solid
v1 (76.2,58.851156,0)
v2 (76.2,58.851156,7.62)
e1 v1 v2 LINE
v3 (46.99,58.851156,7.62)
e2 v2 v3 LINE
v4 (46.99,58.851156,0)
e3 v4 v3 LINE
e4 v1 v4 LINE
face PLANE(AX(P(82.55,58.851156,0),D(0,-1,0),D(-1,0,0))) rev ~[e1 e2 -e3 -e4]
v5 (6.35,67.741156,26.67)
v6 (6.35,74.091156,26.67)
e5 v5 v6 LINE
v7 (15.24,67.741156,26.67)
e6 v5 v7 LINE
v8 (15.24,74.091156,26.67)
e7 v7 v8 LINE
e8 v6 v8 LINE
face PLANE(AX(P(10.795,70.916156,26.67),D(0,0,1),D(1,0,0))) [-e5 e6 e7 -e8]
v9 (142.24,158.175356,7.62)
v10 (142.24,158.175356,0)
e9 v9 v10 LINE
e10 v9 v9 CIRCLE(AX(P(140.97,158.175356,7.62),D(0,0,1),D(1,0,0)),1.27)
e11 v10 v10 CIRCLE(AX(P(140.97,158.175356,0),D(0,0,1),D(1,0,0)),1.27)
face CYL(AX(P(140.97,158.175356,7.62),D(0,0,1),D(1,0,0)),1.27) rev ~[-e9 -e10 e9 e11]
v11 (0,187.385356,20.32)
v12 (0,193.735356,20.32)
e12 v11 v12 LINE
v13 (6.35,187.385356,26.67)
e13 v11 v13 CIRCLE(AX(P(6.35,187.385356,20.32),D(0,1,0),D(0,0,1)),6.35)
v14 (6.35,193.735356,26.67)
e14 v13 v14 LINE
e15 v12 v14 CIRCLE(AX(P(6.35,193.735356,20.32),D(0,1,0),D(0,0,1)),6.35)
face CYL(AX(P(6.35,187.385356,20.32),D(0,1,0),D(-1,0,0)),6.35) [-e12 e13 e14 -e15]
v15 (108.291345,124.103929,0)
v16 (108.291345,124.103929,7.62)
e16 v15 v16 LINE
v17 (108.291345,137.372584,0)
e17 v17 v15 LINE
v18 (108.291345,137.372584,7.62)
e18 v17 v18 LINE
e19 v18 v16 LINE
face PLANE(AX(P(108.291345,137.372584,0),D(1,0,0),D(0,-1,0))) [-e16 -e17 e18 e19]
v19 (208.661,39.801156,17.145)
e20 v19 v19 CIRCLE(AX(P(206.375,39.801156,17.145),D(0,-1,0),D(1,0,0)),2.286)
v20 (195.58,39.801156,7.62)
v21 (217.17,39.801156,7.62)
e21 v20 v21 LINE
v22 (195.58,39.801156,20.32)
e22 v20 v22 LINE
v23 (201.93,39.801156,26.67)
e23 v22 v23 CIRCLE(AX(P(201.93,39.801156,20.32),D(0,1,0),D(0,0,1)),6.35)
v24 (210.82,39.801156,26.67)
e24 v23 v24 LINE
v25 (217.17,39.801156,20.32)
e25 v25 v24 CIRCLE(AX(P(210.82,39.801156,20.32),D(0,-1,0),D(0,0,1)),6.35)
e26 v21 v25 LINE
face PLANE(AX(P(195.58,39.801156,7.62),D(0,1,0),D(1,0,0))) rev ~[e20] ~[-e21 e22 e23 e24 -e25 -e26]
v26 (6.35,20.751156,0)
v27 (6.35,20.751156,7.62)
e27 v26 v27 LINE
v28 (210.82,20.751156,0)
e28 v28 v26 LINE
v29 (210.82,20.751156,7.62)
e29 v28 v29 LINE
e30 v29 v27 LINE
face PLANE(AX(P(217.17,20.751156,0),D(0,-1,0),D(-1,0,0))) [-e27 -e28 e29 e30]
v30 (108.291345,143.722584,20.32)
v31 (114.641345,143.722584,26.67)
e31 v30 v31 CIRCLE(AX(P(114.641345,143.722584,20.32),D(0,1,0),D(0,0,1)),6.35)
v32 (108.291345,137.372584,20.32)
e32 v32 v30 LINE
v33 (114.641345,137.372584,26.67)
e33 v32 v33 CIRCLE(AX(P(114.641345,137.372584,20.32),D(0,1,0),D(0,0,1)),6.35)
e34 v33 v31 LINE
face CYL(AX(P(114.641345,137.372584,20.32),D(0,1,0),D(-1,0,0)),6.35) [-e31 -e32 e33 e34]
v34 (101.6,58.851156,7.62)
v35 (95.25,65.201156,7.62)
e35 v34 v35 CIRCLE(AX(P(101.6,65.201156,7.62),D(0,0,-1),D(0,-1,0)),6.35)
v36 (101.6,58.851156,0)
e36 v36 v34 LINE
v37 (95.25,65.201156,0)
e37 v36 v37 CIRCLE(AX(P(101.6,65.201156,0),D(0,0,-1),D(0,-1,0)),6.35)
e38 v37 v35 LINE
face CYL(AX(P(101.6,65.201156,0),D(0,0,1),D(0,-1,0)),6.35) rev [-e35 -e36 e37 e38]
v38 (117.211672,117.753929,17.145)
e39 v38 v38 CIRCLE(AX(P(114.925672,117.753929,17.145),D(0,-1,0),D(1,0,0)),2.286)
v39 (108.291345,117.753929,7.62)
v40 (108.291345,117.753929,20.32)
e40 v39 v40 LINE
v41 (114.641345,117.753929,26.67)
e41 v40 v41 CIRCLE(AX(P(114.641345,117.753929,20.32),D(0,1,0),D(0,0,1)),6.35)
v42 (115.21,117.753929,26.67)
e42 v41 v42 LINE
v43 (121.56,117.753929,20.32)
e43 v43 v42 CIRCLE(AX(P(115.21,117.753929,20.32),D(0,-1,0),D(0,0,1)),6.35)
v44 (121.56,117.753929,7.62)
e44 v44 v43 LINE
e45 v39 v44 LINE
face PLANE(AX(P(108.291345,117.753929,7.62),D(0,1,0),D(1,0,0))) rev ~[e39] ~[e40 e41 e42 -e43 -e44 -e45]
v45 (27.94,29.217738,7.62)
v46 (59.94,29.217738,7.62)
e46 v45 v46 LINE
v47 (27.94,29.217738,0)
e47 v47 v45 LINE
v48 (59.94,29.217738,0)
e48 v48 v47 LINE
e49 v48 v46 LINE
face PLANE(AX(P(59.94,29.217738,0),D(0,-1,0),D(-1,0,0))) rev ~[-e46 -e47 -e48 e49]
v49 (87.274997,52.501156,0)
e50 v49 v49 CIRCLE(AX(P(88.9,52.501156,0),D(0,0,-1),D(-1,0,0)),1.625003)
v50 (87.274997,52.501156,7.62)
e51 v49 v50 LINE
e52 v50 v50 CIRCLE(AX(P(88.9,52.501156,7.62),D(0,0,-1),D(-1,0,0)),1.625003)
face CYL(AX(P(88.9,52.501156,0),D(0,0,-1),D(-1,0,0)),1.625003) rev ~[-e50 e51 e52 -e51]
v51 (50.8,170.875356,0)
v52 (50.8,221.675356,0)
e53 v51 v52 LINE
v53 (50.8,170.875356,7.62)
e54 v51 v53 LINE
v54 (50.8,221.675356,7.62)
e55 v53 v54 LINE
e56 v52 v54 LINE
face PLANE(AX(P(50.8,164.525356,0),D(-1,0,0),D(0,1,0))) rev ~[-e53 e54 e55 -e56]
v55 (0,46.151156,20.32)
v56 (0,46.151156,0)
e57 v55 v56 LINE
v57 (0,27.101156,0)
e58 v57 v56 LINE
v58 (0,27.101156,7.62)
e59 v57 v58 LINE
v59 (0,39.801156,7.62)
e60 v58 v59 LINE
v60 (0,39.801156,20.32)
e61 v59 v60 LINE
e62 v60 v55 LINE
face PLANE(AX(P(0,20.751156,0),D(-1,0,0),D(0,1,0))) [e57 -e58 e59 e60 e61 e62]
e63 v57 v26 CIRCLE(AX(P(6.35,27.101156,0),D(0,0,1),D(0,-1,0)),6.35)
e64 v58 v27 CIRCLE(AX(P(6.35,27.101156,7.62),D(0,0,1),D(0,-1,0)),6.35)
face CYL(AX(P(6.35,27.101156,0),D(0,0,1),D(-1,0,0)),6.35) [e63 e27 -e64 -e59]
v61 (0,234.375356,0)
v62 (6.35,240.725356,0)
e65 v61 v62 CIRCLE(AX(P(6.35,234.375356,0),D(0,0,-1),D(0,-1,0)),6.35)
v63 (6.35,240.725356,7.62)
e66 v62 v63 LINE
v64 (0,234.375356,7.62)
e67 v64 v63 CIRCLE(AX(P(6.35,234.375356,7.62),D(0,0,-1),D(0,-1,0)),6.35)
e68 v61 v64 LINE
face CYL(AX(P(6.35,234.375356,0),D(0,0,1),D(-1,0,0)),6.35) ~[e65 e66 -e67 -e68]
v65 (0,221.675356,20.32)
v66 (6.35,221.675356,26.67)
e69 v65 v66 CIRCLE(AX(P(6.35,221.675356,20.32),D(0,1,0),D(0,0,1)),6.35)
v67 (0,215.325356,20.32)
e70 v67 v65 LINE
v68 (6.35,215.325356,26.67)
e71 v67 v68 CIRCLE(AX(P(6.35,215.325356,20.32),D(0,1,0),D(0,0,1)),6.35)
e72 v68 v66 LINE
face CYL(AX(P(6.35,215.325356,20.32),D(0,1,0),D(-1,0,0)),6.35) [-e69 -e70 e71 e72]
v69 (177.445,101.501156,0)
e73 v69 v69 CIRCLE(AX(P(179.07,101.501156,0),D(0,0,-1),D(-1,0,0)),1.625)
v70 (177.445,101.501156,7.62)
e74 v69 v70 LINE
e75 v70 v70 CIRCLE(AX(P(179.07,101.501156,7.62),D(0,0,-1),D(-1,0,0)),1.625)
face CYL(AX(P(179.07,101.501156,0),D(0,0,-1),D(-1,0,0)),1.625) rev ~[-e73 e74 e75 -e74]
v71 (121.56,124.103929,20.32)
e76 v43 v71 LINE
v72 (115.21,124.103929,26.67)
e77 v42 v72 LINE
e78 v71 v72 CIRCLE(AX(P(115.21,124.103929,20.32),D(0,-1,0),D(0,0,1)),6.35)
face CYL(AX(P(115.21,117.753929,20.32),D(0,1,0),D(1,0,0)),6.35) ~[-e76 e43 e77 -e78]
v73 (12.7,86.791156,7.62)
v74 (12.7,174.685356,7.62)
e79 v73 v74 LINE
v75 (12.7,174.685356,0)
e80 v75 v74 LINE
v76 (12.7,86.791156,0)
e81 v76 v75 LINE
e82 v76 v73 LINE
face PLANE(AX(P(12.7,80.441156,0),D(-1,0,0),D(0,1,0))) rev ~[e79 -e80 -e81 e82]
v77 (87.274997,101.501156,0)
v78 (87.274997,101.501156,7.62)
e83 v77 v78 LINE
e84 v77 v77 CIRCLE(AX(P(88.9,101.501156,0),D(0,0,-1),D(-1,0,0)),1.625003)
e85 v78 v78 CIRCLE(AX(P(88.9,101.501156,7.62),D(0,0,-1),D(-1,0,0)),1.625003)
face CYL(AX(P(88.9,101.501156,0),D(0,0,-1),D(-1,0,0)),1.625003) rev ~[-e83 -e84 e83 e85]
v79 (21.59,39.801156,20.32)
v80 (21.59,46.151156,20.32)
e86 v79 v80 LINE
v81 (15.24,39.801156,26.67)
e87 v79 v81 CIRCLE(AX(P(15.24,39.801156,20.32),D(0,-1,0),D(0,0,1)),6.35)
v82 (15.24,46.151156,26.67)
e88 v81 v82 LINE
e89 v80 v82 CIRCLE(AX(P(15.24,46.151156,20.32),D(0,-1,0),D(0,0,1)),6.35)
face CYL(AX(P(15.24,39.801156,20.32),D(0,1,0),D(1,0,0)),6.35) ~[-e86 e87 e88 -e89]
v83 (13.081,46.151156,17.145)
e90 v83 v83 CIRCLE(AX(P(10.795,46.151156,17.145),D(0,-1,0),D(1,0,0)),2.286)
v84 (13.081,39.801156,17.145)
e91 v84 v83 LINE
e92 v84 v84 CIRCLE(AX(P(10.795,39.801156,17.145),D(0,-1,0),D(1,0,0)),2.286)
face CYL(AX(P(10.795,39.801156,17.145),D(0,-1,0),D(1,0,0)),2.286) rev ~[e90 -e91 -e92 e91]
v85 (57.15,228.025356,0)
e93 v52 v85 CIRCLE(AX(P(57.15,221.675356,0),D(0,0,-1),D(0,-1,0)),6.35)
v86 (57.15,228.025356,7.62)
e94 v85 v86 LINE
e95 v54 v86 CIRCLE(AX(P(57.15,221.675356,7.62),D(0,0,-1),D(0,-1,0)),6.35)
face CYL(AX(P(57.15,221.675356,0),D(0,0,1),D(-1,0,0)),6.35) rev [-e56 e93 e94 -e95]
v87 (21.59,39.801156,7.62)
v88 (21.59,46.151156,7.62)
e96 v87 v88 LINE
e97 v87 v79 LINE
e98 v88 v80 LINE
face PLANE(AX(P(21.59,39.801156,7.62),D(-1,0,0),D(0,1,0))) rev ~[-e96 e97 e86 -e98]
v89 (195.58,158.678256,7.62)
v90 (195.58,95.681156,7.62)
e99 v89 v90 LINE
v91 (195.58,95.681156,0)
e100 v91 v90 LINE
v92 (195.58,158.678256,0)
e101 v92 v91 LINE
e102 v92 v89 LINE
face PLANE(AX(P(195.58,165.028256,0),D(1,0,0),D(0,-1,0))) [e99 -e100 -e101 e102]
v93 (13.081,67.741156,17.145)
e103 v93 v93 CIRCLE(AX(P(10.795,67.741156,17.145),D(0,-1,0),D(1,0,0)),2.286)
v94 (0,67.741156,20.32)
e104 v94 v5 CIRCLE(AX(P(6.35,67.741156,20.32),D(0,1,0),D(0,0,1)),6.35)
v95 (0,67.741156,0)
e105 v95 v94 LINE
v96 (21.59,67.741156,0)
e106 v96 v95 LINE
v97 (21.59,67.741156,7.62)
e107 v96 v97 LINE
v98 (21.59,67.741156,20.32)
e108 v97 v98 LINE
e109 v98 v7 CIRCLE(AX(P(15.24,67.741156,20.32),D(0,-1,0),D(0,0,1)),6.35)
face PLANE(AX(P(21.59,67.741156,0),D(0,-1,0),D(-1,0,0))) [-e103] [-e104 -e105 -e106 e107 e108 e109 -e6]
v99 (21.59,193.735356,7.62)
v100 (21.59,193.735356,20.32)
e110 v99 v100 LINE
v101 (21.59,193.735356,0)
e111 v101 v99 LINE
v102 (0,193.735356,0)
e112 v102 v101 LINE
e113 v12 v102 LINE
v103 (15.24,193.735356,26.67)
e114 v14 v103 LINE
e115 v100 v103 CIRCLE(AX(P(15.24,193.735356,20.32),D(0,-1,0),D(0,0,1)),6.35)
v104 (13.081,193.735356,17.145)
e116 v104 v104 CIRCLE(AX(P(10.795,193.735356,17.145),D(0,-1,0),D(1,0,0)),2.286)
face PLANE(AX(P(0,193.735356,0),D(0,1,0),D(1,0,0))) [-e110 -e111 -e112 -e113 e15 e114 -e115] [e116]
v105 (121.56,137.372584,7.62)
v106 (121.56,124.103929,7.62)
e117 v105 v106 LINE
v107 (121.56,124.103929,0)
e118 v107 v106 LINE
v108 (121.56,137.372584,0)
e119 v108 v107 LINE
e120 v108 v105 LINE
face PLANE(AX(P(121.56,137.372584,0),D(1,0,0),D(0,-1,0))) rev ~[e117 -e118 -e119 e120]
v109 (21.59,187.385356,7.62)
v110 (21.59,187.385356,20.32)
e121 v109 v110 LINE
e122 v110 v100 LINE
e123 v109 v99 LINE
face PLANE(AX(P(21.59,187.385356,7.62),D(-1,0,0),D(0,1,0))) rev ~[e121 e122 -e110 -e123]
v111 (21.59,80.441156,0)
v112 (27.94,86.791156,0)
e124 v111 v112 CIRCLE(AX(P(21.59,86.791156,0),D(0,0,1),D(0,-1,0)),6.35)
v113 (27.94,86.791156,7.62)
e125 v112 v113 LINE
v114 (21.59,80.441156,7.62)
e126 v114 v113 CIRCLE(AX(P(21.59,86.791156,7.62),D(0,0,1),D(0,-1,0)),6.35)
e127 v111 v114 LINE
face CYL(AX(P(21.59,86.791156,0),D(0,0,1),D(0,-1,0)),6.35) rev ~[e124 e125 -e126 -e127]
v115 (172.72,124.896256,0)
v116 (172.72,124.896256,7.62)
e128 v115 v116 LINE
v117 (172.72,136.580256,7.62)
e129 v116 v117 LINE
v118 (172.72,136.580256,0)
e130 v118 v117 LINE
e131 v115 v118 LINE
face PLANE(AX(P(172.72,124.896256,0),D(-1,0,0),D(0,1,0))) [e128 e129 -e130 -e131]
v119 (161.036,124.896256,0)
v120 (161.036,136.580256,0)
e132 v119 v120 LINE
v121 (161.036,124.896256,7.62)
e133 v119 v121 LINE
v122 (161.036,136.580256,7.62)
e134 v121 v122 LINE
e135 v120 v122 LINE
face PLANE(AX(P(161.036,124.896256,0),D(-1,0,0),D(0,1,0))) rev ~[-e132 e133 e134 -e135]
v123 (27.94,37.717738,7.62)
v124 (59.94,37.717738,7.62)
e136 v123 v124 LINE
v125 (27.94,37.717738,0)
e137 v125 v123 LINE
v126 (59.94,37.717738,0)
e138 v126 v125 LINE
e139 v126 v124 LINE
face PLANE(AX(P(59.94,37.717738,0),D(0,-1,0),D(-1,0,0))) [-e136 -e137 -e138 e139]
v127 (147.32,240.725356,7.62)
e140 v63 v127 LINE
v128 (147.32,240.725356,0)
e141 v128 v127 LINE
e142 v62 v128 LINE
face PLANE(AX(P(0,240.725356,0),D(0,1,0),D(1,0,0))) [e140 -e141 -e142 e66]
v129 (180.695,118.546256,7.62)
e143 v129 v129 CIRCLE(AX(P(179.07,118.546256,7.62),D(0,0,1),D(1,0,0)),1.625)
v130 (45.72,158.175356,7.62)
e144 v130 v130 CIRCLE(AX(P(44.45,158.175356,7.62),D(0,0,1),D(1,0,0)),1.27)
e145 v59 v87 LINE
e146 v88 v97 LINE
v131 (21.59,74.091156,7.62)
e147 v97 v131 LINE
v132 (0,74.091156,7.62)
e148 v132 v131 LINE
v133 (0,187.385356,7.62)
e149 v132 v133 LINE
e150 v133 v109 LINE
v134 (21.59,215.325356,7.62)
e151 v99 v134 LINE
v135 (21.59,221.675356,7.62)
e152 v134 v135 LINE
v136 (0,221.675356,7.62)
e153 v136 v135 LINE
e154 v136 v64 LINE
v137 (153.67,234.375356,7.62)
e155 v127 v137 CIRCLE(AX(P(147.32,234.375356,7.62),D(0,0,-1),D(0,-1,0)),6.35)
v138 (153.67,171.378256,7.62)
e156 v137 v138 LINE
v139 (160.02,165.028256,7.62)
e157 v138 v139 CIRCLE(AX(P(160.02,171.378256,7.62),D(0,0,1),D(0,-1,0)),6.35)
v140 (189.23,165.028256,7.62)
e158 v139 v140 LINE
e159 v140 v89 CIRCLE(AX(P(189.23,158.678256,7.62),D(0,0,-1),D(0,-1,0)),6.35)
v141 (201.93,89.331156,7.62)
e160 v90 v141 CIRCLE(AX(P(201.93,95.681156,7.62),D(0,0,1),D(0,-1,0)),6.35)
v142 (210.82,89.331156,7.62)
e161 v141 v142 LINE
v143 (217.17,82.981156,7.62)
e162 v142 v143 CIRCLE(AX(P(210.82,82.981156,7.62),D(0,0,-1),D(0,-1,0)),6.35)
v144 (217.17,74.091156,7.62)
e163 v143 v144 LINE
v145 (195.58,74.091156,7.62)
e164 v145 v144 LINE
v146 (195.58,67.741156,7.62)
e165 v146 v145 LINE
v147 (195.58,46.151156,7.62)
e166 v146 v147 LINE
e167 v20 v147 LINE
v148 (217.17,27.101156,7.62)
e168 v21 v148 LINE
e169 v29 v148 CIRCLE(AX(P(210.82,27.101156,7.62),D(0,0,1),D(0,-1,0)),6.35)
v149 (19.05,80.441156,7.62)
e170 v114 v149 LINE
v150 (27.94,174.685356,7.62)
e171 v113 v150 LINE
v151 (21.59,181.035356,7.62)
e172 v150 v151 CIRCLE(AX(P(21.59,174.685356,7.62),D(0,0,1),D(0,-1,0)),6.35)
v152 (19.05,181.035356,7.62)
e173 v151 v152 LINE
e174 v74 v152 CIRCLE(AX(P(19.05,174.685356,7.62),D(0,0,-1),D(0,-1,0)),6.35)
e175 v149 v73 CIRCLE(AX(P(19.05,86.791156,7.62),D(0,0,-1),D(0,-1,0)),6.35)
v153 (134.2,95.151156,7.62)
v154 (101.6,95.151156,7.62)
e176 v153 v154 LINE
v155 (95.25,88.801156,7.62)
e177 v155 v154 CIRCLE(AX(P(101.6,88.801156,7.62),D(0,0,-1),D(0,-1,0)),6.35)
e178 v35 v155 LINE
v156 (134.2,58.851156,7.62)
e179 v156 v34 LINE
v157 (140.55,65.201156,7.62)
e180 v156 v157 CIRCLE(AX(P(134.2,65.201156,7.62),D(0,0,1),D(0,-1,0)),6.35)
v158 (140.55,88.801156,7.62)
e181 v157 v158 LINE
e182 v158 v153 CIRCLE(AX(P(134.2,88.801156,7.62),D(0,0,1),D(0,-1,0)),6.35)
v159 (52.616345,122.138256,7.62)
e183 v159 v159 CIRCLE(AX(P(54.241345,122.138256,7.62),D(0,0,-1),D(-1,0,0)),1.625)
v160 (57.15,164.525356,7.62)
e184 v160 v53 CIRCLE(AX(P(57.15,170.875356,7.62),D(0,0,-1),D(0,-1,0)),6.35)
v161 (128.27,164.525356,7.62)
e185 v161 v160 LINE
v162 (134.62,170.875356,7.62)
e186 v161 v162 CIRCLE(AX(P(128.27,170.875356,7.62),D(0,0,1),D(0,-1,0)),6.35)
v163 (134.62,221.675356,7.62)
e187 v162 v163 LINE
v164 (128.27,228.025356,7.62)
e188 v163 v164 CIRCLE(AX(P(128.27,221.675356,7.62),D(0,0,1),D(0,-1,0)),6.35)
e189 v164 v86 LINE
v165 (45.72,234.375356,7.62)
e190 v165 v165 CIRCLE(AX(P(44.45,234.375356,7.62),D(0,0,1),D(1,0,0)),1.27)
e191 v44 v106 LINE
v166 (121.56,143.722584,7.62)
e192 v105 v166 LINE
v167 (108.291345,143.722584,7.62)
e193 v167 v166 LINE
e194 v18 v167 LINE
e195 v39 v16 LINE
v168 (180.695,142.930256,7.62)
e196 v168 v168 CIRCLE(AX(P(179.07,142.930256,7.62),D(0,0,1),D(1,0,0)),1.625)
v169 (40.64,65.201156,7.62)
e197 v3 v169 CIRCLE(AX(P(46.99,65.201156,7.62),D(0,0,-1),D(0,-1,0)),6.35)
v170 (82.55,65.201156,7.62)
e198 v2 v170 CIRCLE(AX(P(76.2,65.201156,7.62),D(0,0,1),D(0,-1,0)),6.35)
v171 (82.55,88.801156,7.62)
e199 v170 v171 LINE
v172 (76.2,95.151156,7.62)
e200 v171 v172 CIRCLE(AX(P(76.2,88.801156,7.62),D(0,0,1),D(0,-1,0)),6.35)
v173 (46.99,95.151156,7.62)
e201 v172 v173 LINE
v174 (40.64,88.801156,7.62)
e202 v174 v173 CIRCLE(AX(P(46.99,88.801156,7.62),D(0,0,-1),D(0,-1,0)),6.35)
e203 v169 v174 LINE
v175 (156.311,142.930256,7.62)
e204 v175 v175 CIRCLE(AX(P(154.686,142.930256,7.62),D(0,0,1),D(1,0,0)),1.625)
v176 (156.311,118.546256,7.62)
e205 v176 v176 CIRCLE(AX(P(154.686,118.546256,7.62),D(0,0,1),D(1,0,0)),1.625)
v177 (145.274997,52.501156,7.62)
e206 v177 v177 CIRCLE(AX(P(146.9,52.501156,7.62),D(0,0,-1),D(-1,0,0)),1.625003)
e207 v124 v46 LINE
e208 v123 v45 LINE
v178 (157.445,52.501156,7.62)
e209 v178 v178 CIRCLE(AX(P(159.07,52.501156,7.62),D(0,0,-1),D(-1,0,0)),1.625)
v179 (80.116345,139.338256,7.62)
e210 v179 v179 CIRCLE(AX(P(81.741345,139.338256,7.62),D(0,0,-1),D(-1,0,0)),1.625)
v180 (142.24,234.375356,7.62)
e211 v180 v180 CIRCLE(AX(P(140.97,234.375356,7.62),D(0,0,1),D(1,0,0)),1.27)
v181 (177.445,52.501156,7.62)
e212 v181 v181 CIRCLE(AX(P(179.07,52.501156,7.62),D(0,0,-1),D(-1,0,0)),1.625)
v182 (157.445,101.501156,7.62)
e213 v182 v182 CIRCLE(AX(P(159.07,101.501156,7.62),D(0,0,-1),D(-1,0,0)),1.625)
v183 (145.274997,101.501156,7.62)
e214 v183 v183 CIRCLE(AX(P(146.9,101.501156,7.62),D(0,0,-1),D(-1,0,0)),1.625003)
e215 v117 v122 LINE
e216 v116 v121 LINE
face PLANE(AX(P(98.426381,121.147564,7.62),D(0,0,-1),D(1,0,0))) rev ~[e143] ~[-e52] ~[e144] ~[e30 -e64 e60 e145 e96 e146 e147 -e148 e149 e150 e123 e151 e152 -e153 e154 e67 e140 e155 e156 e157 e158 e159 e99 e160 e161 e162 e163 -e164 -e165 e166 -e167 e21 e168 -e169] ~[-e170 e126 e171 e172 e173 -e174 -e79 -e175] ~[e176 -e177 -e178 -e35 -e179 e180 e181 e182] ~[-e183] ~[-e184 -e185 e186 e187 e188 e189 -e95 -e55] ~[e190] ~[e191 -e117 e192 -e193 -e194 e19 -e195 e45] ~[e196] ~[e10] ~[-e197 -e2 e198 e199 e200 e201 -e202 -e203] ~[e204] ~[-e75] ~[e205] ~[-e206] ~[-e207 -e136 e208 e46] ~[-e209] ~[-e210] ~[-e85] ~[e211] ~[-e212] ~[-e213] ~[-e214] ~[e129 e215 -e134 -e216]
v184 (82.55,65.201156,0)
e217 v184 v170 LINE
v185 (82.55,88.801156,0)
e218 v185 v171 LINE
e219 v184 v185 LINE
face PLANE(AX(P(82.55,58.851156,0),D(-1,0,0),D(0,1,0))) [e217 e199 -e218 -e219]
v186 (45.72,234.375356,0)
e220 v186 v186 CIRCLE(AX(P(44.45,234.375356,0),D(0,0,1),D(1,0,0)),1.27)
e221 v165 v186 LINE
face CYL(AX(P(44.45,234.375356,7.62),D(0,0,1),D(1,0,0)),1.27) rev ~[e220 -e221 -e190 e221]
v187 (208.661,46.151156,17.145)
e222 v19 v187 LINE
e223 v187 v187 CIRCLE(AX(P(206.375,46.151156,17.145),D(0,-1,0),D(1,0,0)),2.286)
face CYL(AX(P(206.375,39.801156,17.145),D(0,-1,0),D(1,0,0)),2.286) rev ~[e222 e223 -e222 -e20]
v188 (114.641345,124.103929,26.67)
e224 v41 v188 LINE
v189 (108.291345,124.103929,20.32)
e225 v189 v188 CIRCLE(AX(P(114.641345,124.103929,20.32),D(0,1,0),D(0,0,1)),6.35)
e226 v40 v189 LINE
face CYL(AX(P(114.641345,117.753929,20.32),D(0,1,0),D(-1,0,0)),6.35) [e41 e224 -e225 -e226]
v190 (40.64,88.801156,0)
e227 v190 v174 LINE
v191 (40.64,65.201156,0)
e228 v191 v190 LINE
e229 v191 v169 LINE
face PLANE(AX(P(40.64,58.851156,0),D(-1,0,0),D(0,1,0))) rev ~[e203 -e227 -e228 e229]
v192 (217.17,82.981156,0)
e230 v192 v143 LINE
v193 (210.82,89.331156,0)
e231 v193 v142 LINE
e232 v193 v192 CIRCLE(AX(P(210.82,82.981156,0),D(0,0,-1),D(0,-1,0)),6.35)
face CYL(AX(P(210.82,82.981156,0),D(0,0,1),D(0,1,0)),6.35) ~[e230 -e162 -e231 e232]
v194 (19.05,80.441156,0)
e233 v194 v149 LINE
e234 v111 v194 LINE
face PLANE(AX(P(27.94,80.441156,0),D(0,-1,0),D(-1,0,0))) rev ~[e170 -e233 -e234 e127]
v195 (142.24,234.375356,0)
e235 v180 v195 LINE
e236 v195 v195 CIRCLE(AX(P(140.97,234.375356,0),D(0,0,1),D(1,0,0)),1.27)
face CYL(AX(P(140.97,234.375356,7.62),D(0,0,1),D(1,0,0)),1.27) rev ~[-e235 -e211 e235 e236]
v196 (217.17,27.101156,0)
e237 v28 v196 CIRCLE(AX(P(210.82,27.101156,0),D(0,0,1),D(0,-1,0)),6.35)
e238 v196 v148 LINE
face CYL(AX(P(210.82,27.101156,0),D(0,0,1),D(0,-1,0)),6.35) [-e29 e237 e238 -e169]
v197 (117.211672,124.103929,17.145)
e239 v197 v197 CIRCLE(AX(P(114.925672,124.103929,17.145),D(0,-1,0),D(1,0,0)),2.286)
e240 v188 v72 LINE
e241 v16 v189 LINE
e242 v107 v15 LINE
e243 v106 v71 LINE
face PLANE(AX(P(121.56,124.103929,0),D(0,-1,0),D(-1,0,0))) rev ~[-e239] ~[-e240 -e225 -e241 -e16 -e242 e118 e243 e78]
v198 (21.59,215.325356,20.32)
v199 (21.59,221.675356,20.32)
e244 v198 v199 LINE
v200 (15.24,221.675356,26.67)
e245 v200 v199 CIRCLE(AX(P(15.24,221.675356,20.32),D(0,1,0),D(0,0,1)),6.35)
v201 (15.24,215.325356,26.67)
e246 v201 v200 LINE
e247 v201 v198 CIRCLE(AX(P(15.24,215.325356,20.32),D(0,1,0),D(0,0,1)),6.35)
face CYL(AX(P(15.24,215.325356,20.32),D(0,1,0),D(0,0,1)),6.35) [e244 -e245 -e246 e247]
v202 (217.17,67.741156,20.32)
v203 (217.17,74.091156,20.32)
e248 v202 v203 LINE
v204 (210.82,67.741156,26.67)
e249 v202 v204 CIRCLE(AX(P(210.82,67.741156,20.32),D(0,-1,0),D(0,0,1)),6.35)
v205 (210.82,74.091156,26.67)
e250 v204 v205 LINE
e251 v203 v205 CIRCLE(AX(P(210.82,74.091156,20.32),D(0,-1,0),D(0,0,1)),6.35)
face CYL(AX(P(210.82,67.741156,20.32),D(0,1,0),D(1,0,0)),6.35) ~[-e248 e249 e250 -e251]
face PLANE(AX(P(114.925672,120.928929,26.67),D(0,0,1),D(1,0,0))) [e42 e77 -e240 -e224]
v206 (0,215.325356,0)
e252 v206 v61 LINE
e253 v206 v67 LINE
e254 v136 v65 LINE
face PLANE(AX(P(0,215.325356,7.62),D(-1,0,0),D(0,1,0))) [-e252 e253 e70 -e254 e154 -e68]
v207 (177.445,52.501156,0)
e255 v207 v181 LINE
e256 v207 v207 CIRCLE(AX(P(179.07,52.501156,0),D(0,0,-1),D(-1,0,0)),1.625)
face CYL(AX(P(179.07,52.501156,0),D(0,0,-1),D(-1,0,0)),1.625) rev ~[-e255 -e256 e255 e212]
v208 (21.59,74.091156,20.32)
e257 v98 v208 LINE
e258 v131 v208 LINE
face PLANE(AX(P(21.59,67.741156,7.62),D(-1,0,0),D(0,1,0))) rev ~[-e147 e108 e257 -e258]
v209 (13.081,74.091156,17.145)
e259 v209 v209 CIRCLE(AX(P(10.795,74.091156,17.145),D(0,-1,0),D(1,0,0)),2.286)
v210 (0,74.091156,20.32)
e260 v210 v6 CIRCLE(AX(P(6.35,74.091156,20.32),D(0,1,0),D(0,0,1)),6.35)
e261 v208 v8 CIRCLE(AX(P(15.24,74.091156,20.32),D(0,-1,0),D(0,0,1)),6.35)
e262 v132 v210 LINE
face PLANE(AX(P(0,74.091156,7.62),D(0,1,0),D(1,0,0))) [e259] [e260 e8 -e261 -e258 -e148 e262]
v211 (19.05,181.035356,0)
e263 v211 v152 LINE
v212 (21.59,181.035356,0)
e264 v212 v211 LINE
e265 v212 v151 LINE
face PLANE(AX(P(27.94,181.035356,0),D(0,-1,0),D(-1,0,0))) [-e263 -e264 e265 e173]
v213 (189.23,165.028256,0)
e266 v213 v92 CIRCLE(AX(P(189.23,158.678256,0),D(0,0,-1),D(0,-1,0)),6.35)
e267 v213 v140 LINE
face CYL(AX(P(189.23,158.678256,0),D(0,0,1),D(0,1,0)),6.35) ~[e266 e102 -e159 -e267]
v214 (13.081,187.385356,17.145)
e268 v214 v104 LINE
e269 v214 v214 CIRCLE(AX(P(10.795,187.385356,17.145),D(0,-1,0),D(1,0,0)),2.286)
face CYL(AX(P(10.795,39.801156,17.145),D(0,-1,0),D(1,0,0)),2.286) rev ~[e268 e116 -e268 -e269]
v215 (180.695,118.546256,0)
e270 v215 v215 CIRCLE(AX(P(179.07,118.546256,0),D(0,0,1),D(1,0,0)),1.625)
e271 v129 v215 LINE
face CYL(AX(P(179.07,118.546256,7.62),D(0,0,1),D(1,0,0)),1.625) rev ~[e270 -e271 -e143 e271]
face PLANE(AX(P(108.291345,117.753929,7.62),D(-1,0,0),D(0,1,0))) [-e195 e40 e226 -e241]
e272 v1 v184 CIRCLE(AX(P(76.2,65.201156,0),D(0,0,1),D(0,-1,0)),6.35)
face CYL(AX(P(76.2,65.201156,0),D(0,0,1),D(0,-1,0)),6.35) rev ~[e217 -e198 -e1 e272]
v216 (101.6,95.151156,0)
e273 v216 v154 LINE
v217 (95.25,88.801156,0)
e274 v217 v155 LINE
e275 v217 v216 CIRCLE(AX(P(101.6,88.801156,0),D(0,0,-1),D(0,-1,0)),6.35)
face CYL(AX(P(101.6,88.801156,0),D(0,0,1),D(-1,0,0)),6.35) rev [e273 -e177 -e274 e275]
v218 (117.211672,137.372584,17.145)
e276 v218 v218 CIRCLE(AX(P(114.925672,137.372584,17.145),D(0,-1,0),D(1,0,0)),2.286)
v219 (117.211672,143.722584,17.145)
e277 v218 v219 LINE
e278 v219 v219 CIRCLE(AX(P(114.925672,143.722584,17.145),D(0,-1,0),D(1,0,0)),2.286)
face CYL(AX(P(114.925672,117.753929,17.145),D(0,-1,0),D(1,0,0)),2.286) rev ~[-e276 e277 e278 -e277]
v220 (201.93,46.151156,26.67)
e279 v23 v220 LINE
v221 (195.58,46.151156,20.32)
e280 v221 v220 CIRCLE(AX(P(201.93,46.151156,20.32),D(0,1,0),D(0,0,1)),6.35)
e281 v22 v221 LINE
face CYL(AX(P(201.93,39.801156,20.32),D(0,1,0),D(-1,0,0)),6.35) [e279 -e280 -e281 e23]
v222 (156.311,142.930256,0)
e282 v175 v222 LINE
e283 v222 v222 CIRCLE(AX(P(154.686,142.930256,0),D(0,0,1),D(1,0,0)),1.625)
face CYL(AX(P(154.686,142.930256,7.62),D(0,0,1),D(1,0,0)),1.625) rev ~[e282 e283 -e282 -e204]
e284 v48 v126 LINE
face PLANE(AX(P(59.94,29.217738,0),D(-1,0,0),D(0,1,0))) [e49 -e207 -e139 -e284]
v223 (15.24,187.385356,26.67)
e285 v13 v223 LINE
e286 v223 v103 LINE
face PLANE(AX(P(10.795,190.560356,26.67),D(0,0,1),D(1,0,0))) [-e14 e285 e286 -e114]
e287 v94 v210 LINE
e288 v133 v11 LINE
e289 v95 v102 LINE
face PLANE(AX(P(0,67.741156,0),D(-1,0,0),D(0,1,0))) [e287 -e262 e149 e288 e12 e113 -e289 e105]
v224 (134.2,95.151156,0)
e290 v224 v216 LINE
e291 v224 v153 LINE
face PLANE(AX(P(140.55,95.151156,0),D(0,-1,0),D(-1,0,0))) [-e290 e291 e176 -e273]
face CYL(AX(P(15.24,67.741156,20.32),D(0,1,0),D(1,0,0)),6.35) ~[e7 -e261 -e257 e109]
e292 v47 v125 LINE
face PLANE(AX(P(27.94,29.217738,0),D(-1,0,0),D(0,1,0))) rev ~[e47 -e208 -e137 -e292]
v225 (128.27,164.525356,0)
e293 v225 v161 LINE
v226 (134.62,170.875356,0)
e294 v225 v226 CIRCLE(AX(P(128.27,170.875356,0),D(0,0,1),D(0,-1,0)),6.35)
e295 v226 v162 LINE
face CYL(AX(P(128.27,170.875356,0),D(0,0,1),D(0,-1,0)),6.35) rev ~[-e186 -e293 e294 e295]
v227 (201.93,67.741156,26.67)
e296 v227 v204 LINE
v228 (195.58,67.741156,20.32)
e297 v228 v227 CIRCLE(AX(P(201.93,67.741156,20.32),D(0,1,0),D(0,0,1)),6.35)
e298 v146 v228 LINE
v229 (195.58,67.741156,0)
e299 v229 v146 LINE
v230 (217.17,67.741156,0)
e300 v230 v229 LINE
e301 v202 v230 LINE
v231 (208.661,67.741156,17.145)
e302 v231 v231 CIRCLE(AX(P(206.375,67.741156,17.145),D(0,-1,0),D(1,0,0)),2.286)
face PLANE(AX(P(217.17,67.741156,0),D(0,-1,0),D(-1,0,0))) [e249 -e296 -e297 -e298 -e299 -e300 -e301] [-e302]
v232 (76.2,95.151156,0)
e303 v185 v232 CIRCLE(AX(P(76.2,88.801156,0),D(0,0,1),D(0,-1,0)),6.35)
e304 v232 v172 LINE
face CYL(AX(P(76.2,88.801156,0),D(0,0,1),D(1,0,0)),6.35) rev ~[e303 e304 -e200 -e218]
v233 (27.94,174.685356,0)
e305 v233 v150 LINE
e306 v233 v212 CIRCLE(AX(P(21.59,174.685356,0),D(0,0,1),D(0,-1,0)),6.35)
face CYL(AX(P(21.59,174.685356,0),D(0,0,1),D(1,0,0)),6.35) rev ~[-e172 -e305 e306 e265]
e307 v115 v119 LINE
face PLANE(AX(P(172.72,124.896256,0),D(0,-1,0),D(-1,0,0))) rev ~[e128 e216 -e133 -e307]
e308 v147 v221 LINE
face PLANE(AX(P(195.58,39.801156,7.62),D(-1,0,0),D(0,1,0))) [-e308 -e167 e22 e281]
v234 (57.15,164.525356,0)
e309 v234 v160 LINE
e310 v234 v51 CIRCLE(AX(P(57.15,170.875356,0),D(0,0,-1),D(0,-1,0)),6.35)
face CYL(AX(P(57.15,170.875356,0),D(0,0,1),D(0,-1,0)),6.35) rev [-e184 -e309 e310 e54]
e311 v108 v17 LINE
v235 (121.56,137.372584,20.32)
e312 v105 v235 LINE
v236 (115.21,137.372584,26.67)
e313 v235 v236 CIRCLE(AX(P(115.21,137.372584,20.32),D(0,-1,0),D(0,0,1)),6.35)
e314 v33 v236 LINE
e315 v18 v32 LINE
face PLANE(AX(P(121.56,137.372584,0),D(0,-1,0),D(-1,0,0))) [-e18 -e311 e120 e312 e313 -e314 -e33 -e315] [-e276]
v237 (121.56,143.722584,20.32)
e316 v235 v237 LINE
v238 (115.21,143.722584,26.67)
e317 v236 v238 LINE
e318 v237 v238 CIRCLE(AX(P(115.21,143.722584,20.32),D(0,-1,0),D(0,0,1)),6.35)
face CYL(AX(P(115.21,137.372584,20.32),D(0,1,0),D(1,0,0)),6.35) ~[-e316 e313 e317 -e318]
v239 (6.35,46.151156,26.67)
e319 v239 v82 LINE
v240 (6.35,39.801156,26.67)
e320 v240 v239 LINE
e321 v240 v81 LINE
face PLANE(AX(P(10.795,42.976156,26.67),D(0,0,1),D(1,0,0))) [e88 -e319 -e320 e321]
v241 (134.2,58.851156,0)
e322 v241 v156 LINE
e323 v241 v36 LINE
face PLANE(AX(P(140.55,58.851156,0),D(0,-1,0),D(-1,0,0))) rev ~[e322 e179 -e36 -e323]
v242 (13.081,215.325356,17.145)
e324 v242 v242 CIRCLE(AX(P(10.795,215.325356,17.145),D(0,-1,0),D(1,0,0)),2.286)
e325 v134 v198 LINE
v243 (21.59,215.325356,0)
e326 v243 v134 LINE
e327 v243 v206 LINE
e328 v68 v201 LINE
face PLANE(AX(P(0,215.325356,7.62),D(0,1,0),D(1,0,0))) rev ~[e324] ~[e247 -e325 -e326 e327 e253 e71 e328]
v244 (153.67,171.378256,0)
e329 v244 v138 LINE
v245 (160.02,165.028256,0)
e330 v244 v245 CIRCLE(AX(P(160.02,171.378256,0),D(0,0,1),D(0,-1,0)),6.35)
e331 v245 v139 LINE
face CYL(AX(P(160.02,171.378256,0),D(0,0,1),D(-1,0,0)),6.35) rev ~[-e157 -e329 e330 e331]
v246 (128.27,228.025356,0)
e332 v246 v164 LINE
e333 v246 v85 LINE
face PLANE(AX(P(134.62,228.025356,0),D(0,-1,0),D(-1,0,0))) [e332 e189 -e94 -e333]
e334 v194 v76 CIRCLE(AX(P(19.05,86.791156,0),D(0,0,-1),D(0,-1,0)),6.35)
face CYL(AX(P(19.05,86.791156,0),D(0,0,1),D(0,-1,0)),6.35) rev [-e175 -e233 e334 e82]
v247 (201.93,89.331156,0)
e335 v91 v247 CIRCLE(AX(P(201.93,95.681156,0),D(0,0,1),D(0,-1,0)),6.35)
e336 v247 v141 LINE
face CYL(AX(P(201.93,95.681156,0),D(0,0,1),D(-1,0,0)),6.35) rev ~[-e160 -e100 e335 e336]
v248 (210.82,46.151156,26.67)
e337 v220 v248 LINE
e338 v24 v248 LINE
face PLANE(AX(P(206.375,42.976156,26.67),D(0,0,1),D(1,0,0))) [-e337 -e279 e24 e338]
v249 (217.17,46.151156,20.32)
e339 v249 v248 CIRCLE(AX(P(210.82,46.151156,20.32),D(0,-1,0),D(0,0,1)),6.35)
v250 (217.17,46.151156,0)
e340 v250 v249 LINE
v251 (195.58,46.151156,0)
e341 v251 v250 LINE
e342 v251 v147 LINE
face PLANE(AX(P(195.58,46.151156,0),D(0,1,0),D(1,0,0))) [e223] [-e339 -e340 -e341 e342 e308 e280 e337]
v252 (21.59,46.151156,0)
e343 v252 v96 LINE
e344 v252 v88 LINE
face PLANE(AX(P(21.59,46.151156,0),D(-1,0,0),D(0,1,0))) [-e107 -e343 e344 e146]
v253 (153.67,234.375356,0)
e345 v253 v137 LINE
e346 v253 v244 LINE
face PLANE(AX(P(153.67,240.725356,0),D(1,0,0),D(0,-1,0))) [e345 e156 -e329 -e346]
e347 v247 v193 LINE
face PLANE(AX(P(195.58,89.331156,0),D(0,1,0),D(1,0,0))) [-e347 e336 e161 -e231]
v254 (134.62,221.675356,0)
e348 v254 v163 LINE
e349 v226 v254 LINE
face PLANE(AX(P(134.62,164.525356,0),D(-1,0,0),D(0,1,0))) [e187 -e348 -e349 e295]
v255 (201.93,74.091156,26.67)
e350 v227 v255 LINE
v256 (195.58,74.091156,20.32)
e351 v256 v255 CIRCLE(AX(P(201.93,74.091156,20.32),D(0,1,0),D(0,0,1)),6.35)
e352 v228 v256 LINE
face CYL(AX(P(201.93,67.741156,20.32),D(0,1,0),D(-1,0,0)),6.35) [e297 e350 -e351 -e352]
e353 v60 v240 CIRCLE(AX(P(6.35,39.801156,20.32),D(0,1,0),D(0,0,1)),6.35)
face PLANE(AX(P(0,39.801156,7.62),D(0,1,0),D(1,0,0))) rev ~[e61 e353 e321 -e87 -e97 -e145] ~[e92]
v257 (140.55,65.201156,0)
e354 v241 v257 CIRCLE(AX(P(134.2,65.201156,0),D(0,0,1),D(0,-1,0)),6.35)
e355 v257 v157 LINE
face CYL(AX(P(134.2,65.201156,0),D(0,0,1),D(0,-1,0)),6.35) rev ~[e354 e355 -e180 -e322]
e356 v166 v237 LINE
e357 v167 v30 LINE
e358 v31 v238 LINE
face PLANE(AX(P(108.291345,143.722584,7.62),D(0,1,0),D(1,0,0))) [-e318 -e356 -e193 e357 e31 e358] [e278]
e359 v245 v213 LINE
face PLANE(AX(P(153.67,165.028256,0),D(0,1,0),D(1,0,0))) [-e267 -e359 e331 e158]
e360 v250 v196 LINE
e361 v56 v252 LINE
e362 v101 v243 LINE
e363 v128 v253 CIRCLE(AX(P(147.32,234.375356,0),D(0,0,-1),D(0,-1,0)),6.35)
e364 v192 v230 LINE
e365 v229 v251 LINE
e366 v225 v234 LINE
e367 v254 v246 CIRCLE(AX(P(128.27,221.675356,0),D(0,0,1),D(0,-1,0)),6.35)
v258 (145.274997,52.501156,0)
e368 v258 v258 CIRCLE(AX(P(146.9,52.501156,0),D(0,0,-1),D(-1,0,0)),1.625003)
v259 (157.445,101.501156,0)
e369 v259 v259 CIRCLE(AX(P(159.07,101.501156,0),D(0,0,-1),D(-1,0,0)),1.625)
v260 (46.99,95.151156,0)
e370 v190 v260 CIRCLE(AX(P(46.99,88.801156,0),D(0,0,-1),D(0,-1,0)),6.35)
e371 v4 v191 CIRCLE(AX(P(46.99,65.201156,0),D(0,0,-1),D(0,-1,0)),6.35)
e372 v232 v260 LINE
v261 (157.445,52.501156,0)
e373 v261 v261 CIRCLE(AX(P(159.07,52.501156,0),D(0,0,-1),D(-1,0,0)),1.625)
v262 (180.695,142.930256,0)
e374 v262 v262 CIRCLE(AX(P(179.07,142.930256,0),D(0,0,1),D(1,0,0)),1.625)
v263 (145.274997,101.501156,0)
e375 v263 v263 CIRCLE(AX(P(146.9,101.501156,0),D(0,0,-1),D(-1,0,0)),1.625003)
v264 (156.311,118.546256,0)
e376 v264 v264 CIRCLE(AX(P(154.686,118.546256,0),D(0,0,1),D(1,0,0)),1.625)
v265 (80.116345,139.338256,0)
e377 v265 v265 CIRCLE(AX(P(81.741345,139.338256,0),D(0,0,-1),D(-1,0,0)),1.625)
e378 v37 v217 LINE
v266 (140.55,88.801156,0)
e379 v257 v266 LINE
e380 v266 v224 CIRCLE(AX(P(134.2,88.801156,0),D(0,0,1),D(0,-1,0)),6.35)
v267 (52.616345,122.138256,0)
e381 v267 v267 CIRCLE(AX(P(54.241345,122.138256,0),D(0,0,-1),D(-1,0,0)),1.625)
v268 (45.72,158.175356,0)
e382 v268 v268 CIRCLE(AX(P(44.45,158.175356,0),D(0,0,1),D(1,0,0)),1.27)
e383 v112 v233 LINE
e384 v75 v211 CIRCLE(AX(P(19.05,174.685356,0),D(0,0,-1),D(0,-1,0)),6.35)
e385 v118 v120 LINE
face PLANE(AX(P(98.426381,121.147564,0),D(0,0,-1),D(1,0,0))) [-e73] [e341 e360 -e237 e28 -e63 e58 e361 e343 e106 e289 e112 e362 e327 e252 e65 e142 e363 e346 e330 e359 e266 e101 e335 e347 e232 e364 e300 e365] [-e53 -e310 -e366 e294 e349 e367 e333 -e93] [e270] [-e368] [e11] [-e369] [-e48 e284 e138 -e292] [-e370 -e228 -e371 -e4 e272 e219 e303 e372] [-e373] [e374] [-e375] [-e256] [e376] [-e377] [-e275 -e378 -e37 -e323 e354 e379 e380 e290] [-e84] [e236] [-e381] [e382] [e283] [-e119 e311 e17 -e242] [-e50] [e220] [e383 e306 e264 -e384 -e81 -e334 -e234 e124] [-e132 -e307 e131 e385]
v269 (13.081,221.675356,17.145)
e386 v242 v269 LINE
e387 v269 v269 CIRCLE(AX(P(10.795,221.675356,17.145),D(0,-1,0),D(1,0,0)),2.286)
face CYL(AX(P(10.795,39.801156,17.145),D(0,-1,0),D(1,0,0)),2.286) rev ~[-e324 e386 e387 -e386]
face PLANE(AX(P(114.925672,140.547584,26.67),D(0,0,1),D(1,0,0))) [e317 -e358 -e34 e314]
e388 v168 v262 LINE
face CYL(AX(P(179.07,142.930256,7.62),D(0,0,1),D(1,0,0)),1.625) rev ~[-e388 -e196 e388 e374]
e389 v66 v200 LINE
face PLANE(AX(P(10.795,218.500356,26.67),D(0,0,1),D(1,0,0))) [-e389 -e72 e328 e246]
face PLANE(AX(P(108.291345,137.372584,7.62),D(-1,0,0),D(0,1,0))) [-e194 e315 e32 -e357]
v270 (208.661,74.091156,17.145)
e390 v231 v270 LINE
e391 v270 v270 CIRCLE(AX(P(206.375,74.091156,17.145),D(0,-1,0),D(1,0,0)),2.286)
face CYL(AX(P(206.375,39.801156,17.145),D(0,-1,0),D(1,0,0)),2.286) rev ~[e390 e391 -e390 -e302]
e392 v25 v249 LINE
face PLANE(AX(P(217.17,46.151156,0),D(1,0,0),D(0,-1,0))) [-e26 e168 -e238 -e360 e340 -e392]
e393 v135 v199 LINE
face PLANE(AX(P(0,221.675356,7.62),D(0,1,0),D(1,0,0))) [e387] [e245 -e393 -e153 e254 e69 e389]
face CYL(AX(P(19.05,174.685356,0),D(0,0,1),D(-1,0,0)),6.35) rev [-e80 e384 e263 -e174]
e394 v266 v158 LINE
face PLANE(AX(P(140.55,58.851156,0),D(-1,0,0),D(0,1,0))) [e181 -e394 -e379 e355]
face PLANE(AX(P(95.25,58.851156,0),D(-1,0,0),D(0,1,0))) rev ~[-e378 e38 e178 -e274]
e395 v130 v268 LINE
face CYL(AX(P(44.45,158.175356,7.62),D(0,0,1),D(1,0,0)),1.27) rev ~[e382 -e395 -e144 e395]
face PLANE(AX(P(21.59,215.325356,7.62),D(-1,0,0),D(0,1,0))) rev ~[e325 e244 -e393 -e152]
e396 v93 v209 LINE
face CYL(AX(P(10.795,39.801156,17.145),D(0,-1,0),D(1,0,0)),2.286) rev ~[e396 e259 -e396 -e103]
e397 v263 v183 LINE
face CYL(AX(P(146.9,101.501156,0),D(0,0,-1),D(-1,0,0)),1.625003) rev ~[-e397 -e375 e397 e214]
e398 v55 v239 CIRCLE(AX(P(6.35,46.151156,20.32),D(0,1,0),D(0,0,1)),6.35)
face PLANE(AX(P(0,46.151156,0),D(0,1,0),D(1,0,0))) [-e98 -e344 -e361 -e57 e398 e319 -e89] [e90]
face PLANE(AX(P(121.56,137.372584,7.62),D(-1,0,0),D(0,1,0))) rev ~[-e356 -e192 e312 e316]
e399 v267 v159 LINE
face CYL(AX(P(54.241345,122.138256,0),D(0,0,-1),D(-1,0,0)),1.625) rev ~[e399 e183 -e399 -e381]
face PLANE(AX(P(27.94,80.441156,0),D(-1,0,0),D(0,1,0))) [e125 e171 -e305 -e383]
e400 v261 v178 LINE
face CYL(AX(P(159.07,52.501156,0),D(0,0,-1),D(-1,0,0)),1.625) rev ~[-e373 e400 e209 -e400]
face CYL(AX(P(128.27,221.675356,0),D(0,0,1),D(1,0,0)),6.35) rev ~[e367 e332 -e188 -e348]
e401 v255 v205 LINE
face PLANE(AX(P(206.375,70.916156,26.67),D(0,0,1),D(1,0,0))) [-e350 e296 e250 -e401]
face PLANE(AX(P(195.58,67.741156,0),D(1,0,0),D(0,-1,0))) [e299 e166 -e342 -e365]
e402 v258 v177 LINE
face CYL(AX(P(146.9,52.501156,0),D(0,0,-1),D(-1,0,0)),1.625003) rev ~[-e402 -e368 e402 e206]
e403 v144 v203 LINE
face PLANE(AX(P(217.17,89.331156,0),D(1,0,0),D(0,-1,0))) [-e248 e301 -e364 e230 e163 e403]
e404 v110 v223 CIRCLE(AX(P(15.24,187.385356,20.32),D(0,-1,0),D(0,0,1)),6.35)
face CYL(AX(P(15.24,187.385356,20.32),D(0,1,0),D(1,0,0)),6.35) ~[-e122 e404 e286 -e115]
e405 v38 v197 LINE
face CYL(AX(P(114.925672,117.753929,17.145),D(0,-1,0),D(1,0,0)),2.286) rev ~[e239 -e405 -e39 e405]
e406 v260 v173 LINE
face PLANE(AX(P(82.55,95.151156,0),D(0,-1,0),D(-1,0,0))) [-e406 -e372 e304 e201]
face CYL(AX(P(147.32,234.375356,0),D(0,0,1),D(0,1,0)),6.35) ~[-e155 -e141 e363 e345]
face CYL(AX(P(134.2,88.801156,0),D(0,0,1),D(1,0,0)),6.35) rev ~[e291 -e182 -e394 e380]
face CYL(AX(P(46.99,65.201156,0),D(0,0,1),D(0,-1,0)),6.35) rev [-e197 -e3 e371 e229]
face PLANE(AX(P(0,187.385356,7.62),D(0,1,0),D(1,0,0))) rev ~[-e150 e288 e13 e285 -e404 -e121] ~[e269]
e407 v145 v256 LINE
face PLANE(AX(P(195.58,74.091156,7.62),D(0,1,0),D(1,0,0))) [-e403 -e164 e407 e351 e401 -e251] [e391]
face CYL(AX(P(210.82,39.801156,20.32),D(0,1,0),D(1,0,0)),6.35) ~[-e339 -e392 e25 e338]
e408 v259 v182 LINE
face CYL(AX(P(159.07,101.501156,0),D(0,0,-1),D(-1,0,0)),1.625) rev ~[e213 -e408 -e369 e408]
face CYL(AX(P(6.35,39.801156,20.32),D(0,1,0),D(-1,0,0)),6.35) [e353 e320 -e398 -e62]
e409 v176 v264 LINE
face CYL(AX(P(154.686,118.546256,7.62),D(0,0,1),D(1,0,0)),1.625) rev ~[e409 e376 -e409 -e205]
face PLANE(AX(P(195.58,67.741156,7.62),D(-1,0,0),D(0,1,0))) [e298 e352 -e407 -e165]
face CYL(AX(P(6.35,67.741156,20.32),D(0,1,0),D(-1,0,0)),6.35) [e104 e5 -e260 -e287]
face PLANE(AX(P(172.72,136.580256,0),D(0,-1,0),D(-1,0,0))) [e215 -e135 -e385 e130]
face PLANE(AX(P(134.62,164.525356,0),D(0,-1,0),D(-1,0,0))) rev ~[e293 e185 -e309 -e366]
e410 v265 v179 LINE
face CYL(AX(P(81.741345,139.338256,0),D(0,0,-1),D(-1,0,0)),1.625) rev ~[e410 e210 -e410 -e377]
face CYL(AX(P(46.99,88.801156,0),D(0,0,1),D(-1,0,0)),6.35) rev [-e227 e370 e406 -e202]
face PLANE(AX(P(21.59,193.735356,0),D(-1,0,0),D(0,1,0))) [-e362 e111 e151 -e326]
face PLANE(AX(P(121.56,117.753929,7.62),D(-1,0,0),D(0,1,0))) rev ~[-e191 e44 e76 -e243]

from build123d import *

# Parameters (mm, degrees)
SKETCH1_W           = 13.26865531
SKETCH1_H           = 13.268655309
BOSS_EXTRUDE1_DEPTH = 7.62
SKETCH5_R           = 1.27
CUT_EXTRUDE3_DEPTH  = 8.62
CUT_EXTRUDE5_REACH  = 9.62
SKETCH9_W           = 32
SKETCH9_H           = 8.5
SKETCH10_R          = 1.625
CUT_EXTRUDE6_DEPTH  = 8.62
SKETCH13_W          = 21.59
SKETCH13_H          = 6.35
SKETCH13_W_2        = 13.26865531
BOSS_EXTRUDE2_DEPTH = 19.05
SKETCH14_R          = 2.286
CUT_EXTRUDE7_DEPTH  = 201.924200001
SKETCH15_R          = 2.286
CUT_EXTRUDE8_DEPTH  = 123.971427656
SKETCH8_R           = 1.6250031
CUT_EXTRUDE9_DEPTH  = 27.67
SKETCH19_R          = 2.286
CUT_EXTRUDE13_DEPTH = 201.924200001
CUT_EXTRUDE14_REACH = 28.67
SKETCH20_R          = 1.625
SKETCH22_W          = 11.684
SKETCH22_H          = 11.684
SKETCH22_W_2        = 45.3
SKETCH22_H_2        = 36.3
SKETCH22_W_3        = 83.82
SKETCH22_H_3        = 63.500000001
SKETCH22_W_4        = 41.91
SKETCH22_W_5        = 15.24
SKETCH22_H_4        = 100.5942
CUT_EXTRUDE15_DEPTH = 27.67
SKETCH24_R          = 1.625
CUT_EXTRUDE16_DEPTH = 27.67
FILLET2_R           = 6.35
FILLET4_R           = 6.35
FILLET5_R           = 6.35


with BuildPart() as part:
    # Sketch1 → Boss-Extrude1 (new body)
    with BuildSketch(Plane(origin=(0, 0, 0), x_dir=(-1, 0, 0), z_dir=(0, 0, 1))):
        Polygon((0, -67.741156164), (0, -193.735356164), (-21.59, -193.735356164), (-21.59, -215.325356165), (0, -215.325356165), (0, -240.725356165), (-153.67, -240.725356165), (-153.67, -165.028256165), (-195.58, -165.028256165), (-195.58, -89.331156165), (-217.17, -89.331156165), (-217.17, -67.741156164), (-195.58, -67.741156164), (-195.58, -46.151156164), (-217.17, -46.151156164), (-217.17, -20.751156164), (0, -20.751156164), (0, -46.151156164), (-21.59, -46.151156164), (-21.59, -67.741156164), align=None)
        with Locations((-114.925672351, -130.738256165)):
            Rectangle(SKETCH1_W, SKETCH1_H, mode=Mode.SUBTRACT)
    extrude(amount=BOSS_EXTRUDE1_DEPTH)

    # Sketch5 → Cut-Extrude3 (cut, through all)
    with BuildSketch(Plane.XY.offset(7.62)):
        with Locations((44.45, 234.375356165)):
            Circle(SKETCH5_R)
        with Locations((140.97, 234.375356165)):
            Circle(SKETCH5_R)
        with Locations((44.45, 158.175356164)):
            Circle(SKETCH5_R)
        with Locations((140.97, 158.175356164)):
            Circle(SKETCH5_R)
    extrude(amount=-CUT_EXTRUDE3_DEPTH, mode=Mode.SUBTRACT)

    # Sketch9 → Cut-Extrude5 (cut, up to next)
    with BuildSketch(Plane(origin=(0, 0, 0), x_dir=(-1, 0, 0), z_dir=(0, 0, -1)), mode=Mode.PRIVATE) as cut_extrude5_sk1:
        with Locations((-43.94, 33.467738164)):
            Rectangle(SKETCH9_W, SKETCH9_H)
    cut_extrude5_tool1 = extrude(cut_extrude5_sk1.sketch, amount=-CUT_EXTRUDE5_REACH, mode=Mode.PRIVATE) & part.part
    add(cut_extrude5_tool1.solids().sort_by_distance((43.94, 33.467738, 0))[0], mode=Mode.SUBTRACT)

    # Sketch10 → Cut-Extrude6 (cut, through all)
    with BuildSketch(Plane.XY.offset(7.62)):
        with Locations((179.07, 142.930256164)):
            Circle(SKETCH10_R)
        with Locations((179.07, 118.546256164)):
            Circle(SKETCH10_R)
        with Locations((154.686, 118.546256164)):
            Circle(SKETCH10_R)
        with Locations((154.686, 142.930256164)):
            Circle(SKETCH10_R)
    extrude(amount=-CUT_EXTRUDE6_DEPTH, mode=Mode.SUBTRACT)

    # Sketch13 → Boss-Extrude2 (add)
    with BuildSketch(Plane.XY.offset(7.62)):
        with Locations((10.795, 218.500356165)):
            Rectangle(SKETCH13_W, SKETCH13_H)
        with Locations((10.795, 190.560356164)):
            Rectangle(SKETCH13_W, SKETCH13_H)
        with Locations((10.795, 42.976156164)):
            Rectangle(SKETCH13_W, SKETCH13_H)
        with Locations((10.795, 70.916156164)):
            Rectangle(SKETCH13_W, SKETCH13_H)
        with Locations((114.925672351, 140.547583819)):
            Rectangle(SKETCH13_W_2, SKETCH13_H)
        with Locations((114.925672351, 120.92892851)):
            Rectangle(SKETCH13_W_2, SKETCH13_H)
        with Locations((206.375, 42.976156164)):
            Rectangle(SKETCH13_W, SKETCH13_H)
        with Locations((206.375, 70.916156164)):
            Rectangle(SKETCH13_W, SKETCH13_H)
    extrude(amount=BOSS_EXTRUDE2_DEPTH)

    # Sketch14 → Cut-Extrude7 (cut, through all)
    with BuildSketch(Plane.XZ.offset(-39.801156164)):
        with Locations((10.795, 17.145)):
            Circle(SKETCH14_R)
    extrude(amount=-CUT_EXTRUDE7_DEPTH, mode=Mode.SUBTRACT)

    # Sketch15 → Cut-Extrude8 (cut, through all)
    with BuildSketch(Plane.XZ.offset(-117.75392851)):
        with Locations((114.925672351, 17.145)):
            Circle(SKETCH15_R)
    extrude(amount=-CUT_EXTRUDE8_DEPTH, mode=Mode.SUBTRACT)

    # Sketch8 → Cut-Extrude9 (cut, through all)
    with BuildSketch(Plane(origin=(0, 0, 0), x_dir=(-1, 0, 0), z_dir=(0, 0, -1))):
        with Locations((-88.9, 52.501156164)):
            Circle(SKETCH8_R)
        with Locations((-146.9, 52.501156164)):
            Circle(SKETCH8_R)
        with Locations((-88.9, 101.501156164)):
            Circle(SKETCH8_R)
        with Locations((-146.9, 101.501156164)):
            Circle(SKETCH8_R)
    extrude(amount=-CUT_EXTRUDE9_DEPTH, mode=Mode.SUBTRACT)

    # Sketch19 → Cut-Extrude13 (cut, through all)
    with BuildSketch(Plane.XZ.offset(-39.801156164)):
        with Locations((206.375, 17.145)):
            Circle(SKETCH19_R)
    extrude(amount=-CUT_EXTRUDE13_DEPTH, mode=Mode.SUBTRACT)

    # Sketch20 → Cut-Extrude14 (cut, up to next)
    with BuildSketch(Plane(origin=(0, 0, 0), x_dir=(-1, 0, 0), z_dir=(0, 0, -1)), mode=Mode.PRIVATE) as cut_extrude14_sk1:
        with Locations((-81.741344696, 139.338256164)):
            Circle(SKETCH20_R)
    cut_extrude14_tool1 = extrude(cut_extrude14_sk1.sketch, amount=-CUT_EXTRUDE14_REACH, mode=Mode.PRIVATE) & part.part
    add(cut_extrude14_tool1.solids().sort_by_distance((81.741345, 139.338256, 0))[0], mode=Mode.SUBTRACT)
    # Sketch20 → Cut-Extrude14 (cut, up to next)
    with BuildSketch(Plane(origin=(0, 0, 0), x_dir=(-1, 0, 0), z_dir=(0, 0, -1)), mode=Mode.PRIVATE) as cut_extrude14_sk2:
        with Locations((-54.241344696, 122.138256164)):
            Circle(SKETCH20_R)
    cut_extrude14_tool2 = extrude(cut_extrude14_sk2.sketch, amount=-CUT_EXTRUDE14_REACH, mode=Mode.PRIVATE) & part.part
    add(cut_extrude14_tool2.solids().sort_by_distance((54.241345, 122.138256, 0))[0], mode=Mode.SUBTRACT)

    # Sketch22 → Cut-Extrude15 (cut, through all)
    with BuildSketch(Plane(origin=(0, 0, 0), x_dir=(-1, 0, 0), z_dir=(0, 0, -1))):
        with Locations((-166.878, 130.738256164)):
            Rectangle(SKETCH22_W, SKETCH22_H)
        with Locations((-117.9, 77.001156164)):
            Rectangle(SKETCH22_W_2, SKETCH22_H_2)
        with Locations((-92.71, 196.275356165)):
            Rectangle(SKETCH22_W_3, SKETCH22_H_3)
        with Locations((-61.595, 77.001156164)):
            Rectangle(SKETCH22_W_4, SKETCH22_H_2)
        with Locations((-20.32, 130.738256164)):
            Rectangle(SKETCH22_W_5, SKETCH22_H_4)
    extrude(amount=-CUT_EXTRUDE15_DEPTH, mode=Mode.SUBTRACT)

    # Sketch24 → Cut-Extrude16 (cut, through all)
    with BuildSketch(Plane(origin=(0, 0, 0), x_dir=(-1, 0, 0), z_dir=(0, 0, -1))):
        with Locations((-179.07, 101.501156164)):
            Circle(SKETCH24_R)
        with Locations((-159.07, 101.501156164)):
            Circle(SKETCH24_R)
        with Locations((-159.07, 52.501156164)):
            Circle(SKETCH24_R)
        with Locations((-179.07, 52.501156164)):
            Circle(SKETCH24_R)
    extrude(amount=-CUT_EXTRUDE16_DEPTH, mode=Mode.SUBTRACT)

    # Fillet2
    fillet2_edges = [part.edges().sort_by_distance(p)[0] for p in [
        (0, 218.500356165, 26.67),
        (21.59, 218.500356165, 26.67),
        (0, 190.560356164, 26.67),
        (21.59, 190.560356164, 26.67),
        (0, 42.976156164, 26.67),
        (21.59, 42.976156164, 26.67),
        (0, 70.916156164, 26.67),
        (21.59, 70.916156164, 26.67),
        (121.560000006, 120.92892851, 26.67),
        (108.291344696, 120.92892851, 26.67),
        (121.560000006, 140.547583819, 26.67),
        (108.291344696, 140.547583819, 26.67),
        (217.17, 70.916156164, 26.67),
        (195.58, 70.916156164, 26.67),
        (217.17, 42.976156164, 26.67),
        (195.58, 42.976156164, 26.67),
    ]]
    fillet(fillet2_edges, radius=FILLET2_R)

    # Fillet4
    fillet4_edges = [part.edges().sort_by_distance(p)[0] for p in [
        (0, 20.751156164, 3.81),
        (217.17, 20.751156164, 3.81),
        (217.17, 89.331156165, 3.81),
        (195.58, 89.331156165, 3.81),
        (195.58, 165.028256165, 3.81),
        (153.67, 165.028256165, 3.81),
        (153.67, 240.725356165, 3.81),
        (0, 240.725356165, 3.81),
    ]]
    fillet(fillet4_edges, radius=FILLET4_R)

    # Fillet5
    fillet5_edges = [part.edges().sort_by_distance(p)[0] for p in [
        (27.94, 80.441156164, 3.81),
        (27.94, 181.035356164, 3.81),
        (12.7, 181.035356164, 3.81),
        (12.7, 80.441156164, 3.81),
        (82.55, 58.851156164, 3.81),
        (82.55, 95.151156164, 3.81),
        (40.64, 95.151156164, 3.81),
        (40.64, 58.851156164, 3.81),
        (134.62, 164.525356164, 3.81),
        (134.62, 228.025356165, 3.81),
        (50.8, 228.025356165, 3.81),
        (50.8, 164.525356164, 3.81),
        (140.55, 58.851156164, 3.81),
        (140.55, 95.151156164, 3.81),
        (95.25, 95.151156164, 3.81),
        (95.25, 58.851156164, 3.81),
    ]]
    fillet(fillet5_edges, radius=FILLET5_R)


solid = part.part
